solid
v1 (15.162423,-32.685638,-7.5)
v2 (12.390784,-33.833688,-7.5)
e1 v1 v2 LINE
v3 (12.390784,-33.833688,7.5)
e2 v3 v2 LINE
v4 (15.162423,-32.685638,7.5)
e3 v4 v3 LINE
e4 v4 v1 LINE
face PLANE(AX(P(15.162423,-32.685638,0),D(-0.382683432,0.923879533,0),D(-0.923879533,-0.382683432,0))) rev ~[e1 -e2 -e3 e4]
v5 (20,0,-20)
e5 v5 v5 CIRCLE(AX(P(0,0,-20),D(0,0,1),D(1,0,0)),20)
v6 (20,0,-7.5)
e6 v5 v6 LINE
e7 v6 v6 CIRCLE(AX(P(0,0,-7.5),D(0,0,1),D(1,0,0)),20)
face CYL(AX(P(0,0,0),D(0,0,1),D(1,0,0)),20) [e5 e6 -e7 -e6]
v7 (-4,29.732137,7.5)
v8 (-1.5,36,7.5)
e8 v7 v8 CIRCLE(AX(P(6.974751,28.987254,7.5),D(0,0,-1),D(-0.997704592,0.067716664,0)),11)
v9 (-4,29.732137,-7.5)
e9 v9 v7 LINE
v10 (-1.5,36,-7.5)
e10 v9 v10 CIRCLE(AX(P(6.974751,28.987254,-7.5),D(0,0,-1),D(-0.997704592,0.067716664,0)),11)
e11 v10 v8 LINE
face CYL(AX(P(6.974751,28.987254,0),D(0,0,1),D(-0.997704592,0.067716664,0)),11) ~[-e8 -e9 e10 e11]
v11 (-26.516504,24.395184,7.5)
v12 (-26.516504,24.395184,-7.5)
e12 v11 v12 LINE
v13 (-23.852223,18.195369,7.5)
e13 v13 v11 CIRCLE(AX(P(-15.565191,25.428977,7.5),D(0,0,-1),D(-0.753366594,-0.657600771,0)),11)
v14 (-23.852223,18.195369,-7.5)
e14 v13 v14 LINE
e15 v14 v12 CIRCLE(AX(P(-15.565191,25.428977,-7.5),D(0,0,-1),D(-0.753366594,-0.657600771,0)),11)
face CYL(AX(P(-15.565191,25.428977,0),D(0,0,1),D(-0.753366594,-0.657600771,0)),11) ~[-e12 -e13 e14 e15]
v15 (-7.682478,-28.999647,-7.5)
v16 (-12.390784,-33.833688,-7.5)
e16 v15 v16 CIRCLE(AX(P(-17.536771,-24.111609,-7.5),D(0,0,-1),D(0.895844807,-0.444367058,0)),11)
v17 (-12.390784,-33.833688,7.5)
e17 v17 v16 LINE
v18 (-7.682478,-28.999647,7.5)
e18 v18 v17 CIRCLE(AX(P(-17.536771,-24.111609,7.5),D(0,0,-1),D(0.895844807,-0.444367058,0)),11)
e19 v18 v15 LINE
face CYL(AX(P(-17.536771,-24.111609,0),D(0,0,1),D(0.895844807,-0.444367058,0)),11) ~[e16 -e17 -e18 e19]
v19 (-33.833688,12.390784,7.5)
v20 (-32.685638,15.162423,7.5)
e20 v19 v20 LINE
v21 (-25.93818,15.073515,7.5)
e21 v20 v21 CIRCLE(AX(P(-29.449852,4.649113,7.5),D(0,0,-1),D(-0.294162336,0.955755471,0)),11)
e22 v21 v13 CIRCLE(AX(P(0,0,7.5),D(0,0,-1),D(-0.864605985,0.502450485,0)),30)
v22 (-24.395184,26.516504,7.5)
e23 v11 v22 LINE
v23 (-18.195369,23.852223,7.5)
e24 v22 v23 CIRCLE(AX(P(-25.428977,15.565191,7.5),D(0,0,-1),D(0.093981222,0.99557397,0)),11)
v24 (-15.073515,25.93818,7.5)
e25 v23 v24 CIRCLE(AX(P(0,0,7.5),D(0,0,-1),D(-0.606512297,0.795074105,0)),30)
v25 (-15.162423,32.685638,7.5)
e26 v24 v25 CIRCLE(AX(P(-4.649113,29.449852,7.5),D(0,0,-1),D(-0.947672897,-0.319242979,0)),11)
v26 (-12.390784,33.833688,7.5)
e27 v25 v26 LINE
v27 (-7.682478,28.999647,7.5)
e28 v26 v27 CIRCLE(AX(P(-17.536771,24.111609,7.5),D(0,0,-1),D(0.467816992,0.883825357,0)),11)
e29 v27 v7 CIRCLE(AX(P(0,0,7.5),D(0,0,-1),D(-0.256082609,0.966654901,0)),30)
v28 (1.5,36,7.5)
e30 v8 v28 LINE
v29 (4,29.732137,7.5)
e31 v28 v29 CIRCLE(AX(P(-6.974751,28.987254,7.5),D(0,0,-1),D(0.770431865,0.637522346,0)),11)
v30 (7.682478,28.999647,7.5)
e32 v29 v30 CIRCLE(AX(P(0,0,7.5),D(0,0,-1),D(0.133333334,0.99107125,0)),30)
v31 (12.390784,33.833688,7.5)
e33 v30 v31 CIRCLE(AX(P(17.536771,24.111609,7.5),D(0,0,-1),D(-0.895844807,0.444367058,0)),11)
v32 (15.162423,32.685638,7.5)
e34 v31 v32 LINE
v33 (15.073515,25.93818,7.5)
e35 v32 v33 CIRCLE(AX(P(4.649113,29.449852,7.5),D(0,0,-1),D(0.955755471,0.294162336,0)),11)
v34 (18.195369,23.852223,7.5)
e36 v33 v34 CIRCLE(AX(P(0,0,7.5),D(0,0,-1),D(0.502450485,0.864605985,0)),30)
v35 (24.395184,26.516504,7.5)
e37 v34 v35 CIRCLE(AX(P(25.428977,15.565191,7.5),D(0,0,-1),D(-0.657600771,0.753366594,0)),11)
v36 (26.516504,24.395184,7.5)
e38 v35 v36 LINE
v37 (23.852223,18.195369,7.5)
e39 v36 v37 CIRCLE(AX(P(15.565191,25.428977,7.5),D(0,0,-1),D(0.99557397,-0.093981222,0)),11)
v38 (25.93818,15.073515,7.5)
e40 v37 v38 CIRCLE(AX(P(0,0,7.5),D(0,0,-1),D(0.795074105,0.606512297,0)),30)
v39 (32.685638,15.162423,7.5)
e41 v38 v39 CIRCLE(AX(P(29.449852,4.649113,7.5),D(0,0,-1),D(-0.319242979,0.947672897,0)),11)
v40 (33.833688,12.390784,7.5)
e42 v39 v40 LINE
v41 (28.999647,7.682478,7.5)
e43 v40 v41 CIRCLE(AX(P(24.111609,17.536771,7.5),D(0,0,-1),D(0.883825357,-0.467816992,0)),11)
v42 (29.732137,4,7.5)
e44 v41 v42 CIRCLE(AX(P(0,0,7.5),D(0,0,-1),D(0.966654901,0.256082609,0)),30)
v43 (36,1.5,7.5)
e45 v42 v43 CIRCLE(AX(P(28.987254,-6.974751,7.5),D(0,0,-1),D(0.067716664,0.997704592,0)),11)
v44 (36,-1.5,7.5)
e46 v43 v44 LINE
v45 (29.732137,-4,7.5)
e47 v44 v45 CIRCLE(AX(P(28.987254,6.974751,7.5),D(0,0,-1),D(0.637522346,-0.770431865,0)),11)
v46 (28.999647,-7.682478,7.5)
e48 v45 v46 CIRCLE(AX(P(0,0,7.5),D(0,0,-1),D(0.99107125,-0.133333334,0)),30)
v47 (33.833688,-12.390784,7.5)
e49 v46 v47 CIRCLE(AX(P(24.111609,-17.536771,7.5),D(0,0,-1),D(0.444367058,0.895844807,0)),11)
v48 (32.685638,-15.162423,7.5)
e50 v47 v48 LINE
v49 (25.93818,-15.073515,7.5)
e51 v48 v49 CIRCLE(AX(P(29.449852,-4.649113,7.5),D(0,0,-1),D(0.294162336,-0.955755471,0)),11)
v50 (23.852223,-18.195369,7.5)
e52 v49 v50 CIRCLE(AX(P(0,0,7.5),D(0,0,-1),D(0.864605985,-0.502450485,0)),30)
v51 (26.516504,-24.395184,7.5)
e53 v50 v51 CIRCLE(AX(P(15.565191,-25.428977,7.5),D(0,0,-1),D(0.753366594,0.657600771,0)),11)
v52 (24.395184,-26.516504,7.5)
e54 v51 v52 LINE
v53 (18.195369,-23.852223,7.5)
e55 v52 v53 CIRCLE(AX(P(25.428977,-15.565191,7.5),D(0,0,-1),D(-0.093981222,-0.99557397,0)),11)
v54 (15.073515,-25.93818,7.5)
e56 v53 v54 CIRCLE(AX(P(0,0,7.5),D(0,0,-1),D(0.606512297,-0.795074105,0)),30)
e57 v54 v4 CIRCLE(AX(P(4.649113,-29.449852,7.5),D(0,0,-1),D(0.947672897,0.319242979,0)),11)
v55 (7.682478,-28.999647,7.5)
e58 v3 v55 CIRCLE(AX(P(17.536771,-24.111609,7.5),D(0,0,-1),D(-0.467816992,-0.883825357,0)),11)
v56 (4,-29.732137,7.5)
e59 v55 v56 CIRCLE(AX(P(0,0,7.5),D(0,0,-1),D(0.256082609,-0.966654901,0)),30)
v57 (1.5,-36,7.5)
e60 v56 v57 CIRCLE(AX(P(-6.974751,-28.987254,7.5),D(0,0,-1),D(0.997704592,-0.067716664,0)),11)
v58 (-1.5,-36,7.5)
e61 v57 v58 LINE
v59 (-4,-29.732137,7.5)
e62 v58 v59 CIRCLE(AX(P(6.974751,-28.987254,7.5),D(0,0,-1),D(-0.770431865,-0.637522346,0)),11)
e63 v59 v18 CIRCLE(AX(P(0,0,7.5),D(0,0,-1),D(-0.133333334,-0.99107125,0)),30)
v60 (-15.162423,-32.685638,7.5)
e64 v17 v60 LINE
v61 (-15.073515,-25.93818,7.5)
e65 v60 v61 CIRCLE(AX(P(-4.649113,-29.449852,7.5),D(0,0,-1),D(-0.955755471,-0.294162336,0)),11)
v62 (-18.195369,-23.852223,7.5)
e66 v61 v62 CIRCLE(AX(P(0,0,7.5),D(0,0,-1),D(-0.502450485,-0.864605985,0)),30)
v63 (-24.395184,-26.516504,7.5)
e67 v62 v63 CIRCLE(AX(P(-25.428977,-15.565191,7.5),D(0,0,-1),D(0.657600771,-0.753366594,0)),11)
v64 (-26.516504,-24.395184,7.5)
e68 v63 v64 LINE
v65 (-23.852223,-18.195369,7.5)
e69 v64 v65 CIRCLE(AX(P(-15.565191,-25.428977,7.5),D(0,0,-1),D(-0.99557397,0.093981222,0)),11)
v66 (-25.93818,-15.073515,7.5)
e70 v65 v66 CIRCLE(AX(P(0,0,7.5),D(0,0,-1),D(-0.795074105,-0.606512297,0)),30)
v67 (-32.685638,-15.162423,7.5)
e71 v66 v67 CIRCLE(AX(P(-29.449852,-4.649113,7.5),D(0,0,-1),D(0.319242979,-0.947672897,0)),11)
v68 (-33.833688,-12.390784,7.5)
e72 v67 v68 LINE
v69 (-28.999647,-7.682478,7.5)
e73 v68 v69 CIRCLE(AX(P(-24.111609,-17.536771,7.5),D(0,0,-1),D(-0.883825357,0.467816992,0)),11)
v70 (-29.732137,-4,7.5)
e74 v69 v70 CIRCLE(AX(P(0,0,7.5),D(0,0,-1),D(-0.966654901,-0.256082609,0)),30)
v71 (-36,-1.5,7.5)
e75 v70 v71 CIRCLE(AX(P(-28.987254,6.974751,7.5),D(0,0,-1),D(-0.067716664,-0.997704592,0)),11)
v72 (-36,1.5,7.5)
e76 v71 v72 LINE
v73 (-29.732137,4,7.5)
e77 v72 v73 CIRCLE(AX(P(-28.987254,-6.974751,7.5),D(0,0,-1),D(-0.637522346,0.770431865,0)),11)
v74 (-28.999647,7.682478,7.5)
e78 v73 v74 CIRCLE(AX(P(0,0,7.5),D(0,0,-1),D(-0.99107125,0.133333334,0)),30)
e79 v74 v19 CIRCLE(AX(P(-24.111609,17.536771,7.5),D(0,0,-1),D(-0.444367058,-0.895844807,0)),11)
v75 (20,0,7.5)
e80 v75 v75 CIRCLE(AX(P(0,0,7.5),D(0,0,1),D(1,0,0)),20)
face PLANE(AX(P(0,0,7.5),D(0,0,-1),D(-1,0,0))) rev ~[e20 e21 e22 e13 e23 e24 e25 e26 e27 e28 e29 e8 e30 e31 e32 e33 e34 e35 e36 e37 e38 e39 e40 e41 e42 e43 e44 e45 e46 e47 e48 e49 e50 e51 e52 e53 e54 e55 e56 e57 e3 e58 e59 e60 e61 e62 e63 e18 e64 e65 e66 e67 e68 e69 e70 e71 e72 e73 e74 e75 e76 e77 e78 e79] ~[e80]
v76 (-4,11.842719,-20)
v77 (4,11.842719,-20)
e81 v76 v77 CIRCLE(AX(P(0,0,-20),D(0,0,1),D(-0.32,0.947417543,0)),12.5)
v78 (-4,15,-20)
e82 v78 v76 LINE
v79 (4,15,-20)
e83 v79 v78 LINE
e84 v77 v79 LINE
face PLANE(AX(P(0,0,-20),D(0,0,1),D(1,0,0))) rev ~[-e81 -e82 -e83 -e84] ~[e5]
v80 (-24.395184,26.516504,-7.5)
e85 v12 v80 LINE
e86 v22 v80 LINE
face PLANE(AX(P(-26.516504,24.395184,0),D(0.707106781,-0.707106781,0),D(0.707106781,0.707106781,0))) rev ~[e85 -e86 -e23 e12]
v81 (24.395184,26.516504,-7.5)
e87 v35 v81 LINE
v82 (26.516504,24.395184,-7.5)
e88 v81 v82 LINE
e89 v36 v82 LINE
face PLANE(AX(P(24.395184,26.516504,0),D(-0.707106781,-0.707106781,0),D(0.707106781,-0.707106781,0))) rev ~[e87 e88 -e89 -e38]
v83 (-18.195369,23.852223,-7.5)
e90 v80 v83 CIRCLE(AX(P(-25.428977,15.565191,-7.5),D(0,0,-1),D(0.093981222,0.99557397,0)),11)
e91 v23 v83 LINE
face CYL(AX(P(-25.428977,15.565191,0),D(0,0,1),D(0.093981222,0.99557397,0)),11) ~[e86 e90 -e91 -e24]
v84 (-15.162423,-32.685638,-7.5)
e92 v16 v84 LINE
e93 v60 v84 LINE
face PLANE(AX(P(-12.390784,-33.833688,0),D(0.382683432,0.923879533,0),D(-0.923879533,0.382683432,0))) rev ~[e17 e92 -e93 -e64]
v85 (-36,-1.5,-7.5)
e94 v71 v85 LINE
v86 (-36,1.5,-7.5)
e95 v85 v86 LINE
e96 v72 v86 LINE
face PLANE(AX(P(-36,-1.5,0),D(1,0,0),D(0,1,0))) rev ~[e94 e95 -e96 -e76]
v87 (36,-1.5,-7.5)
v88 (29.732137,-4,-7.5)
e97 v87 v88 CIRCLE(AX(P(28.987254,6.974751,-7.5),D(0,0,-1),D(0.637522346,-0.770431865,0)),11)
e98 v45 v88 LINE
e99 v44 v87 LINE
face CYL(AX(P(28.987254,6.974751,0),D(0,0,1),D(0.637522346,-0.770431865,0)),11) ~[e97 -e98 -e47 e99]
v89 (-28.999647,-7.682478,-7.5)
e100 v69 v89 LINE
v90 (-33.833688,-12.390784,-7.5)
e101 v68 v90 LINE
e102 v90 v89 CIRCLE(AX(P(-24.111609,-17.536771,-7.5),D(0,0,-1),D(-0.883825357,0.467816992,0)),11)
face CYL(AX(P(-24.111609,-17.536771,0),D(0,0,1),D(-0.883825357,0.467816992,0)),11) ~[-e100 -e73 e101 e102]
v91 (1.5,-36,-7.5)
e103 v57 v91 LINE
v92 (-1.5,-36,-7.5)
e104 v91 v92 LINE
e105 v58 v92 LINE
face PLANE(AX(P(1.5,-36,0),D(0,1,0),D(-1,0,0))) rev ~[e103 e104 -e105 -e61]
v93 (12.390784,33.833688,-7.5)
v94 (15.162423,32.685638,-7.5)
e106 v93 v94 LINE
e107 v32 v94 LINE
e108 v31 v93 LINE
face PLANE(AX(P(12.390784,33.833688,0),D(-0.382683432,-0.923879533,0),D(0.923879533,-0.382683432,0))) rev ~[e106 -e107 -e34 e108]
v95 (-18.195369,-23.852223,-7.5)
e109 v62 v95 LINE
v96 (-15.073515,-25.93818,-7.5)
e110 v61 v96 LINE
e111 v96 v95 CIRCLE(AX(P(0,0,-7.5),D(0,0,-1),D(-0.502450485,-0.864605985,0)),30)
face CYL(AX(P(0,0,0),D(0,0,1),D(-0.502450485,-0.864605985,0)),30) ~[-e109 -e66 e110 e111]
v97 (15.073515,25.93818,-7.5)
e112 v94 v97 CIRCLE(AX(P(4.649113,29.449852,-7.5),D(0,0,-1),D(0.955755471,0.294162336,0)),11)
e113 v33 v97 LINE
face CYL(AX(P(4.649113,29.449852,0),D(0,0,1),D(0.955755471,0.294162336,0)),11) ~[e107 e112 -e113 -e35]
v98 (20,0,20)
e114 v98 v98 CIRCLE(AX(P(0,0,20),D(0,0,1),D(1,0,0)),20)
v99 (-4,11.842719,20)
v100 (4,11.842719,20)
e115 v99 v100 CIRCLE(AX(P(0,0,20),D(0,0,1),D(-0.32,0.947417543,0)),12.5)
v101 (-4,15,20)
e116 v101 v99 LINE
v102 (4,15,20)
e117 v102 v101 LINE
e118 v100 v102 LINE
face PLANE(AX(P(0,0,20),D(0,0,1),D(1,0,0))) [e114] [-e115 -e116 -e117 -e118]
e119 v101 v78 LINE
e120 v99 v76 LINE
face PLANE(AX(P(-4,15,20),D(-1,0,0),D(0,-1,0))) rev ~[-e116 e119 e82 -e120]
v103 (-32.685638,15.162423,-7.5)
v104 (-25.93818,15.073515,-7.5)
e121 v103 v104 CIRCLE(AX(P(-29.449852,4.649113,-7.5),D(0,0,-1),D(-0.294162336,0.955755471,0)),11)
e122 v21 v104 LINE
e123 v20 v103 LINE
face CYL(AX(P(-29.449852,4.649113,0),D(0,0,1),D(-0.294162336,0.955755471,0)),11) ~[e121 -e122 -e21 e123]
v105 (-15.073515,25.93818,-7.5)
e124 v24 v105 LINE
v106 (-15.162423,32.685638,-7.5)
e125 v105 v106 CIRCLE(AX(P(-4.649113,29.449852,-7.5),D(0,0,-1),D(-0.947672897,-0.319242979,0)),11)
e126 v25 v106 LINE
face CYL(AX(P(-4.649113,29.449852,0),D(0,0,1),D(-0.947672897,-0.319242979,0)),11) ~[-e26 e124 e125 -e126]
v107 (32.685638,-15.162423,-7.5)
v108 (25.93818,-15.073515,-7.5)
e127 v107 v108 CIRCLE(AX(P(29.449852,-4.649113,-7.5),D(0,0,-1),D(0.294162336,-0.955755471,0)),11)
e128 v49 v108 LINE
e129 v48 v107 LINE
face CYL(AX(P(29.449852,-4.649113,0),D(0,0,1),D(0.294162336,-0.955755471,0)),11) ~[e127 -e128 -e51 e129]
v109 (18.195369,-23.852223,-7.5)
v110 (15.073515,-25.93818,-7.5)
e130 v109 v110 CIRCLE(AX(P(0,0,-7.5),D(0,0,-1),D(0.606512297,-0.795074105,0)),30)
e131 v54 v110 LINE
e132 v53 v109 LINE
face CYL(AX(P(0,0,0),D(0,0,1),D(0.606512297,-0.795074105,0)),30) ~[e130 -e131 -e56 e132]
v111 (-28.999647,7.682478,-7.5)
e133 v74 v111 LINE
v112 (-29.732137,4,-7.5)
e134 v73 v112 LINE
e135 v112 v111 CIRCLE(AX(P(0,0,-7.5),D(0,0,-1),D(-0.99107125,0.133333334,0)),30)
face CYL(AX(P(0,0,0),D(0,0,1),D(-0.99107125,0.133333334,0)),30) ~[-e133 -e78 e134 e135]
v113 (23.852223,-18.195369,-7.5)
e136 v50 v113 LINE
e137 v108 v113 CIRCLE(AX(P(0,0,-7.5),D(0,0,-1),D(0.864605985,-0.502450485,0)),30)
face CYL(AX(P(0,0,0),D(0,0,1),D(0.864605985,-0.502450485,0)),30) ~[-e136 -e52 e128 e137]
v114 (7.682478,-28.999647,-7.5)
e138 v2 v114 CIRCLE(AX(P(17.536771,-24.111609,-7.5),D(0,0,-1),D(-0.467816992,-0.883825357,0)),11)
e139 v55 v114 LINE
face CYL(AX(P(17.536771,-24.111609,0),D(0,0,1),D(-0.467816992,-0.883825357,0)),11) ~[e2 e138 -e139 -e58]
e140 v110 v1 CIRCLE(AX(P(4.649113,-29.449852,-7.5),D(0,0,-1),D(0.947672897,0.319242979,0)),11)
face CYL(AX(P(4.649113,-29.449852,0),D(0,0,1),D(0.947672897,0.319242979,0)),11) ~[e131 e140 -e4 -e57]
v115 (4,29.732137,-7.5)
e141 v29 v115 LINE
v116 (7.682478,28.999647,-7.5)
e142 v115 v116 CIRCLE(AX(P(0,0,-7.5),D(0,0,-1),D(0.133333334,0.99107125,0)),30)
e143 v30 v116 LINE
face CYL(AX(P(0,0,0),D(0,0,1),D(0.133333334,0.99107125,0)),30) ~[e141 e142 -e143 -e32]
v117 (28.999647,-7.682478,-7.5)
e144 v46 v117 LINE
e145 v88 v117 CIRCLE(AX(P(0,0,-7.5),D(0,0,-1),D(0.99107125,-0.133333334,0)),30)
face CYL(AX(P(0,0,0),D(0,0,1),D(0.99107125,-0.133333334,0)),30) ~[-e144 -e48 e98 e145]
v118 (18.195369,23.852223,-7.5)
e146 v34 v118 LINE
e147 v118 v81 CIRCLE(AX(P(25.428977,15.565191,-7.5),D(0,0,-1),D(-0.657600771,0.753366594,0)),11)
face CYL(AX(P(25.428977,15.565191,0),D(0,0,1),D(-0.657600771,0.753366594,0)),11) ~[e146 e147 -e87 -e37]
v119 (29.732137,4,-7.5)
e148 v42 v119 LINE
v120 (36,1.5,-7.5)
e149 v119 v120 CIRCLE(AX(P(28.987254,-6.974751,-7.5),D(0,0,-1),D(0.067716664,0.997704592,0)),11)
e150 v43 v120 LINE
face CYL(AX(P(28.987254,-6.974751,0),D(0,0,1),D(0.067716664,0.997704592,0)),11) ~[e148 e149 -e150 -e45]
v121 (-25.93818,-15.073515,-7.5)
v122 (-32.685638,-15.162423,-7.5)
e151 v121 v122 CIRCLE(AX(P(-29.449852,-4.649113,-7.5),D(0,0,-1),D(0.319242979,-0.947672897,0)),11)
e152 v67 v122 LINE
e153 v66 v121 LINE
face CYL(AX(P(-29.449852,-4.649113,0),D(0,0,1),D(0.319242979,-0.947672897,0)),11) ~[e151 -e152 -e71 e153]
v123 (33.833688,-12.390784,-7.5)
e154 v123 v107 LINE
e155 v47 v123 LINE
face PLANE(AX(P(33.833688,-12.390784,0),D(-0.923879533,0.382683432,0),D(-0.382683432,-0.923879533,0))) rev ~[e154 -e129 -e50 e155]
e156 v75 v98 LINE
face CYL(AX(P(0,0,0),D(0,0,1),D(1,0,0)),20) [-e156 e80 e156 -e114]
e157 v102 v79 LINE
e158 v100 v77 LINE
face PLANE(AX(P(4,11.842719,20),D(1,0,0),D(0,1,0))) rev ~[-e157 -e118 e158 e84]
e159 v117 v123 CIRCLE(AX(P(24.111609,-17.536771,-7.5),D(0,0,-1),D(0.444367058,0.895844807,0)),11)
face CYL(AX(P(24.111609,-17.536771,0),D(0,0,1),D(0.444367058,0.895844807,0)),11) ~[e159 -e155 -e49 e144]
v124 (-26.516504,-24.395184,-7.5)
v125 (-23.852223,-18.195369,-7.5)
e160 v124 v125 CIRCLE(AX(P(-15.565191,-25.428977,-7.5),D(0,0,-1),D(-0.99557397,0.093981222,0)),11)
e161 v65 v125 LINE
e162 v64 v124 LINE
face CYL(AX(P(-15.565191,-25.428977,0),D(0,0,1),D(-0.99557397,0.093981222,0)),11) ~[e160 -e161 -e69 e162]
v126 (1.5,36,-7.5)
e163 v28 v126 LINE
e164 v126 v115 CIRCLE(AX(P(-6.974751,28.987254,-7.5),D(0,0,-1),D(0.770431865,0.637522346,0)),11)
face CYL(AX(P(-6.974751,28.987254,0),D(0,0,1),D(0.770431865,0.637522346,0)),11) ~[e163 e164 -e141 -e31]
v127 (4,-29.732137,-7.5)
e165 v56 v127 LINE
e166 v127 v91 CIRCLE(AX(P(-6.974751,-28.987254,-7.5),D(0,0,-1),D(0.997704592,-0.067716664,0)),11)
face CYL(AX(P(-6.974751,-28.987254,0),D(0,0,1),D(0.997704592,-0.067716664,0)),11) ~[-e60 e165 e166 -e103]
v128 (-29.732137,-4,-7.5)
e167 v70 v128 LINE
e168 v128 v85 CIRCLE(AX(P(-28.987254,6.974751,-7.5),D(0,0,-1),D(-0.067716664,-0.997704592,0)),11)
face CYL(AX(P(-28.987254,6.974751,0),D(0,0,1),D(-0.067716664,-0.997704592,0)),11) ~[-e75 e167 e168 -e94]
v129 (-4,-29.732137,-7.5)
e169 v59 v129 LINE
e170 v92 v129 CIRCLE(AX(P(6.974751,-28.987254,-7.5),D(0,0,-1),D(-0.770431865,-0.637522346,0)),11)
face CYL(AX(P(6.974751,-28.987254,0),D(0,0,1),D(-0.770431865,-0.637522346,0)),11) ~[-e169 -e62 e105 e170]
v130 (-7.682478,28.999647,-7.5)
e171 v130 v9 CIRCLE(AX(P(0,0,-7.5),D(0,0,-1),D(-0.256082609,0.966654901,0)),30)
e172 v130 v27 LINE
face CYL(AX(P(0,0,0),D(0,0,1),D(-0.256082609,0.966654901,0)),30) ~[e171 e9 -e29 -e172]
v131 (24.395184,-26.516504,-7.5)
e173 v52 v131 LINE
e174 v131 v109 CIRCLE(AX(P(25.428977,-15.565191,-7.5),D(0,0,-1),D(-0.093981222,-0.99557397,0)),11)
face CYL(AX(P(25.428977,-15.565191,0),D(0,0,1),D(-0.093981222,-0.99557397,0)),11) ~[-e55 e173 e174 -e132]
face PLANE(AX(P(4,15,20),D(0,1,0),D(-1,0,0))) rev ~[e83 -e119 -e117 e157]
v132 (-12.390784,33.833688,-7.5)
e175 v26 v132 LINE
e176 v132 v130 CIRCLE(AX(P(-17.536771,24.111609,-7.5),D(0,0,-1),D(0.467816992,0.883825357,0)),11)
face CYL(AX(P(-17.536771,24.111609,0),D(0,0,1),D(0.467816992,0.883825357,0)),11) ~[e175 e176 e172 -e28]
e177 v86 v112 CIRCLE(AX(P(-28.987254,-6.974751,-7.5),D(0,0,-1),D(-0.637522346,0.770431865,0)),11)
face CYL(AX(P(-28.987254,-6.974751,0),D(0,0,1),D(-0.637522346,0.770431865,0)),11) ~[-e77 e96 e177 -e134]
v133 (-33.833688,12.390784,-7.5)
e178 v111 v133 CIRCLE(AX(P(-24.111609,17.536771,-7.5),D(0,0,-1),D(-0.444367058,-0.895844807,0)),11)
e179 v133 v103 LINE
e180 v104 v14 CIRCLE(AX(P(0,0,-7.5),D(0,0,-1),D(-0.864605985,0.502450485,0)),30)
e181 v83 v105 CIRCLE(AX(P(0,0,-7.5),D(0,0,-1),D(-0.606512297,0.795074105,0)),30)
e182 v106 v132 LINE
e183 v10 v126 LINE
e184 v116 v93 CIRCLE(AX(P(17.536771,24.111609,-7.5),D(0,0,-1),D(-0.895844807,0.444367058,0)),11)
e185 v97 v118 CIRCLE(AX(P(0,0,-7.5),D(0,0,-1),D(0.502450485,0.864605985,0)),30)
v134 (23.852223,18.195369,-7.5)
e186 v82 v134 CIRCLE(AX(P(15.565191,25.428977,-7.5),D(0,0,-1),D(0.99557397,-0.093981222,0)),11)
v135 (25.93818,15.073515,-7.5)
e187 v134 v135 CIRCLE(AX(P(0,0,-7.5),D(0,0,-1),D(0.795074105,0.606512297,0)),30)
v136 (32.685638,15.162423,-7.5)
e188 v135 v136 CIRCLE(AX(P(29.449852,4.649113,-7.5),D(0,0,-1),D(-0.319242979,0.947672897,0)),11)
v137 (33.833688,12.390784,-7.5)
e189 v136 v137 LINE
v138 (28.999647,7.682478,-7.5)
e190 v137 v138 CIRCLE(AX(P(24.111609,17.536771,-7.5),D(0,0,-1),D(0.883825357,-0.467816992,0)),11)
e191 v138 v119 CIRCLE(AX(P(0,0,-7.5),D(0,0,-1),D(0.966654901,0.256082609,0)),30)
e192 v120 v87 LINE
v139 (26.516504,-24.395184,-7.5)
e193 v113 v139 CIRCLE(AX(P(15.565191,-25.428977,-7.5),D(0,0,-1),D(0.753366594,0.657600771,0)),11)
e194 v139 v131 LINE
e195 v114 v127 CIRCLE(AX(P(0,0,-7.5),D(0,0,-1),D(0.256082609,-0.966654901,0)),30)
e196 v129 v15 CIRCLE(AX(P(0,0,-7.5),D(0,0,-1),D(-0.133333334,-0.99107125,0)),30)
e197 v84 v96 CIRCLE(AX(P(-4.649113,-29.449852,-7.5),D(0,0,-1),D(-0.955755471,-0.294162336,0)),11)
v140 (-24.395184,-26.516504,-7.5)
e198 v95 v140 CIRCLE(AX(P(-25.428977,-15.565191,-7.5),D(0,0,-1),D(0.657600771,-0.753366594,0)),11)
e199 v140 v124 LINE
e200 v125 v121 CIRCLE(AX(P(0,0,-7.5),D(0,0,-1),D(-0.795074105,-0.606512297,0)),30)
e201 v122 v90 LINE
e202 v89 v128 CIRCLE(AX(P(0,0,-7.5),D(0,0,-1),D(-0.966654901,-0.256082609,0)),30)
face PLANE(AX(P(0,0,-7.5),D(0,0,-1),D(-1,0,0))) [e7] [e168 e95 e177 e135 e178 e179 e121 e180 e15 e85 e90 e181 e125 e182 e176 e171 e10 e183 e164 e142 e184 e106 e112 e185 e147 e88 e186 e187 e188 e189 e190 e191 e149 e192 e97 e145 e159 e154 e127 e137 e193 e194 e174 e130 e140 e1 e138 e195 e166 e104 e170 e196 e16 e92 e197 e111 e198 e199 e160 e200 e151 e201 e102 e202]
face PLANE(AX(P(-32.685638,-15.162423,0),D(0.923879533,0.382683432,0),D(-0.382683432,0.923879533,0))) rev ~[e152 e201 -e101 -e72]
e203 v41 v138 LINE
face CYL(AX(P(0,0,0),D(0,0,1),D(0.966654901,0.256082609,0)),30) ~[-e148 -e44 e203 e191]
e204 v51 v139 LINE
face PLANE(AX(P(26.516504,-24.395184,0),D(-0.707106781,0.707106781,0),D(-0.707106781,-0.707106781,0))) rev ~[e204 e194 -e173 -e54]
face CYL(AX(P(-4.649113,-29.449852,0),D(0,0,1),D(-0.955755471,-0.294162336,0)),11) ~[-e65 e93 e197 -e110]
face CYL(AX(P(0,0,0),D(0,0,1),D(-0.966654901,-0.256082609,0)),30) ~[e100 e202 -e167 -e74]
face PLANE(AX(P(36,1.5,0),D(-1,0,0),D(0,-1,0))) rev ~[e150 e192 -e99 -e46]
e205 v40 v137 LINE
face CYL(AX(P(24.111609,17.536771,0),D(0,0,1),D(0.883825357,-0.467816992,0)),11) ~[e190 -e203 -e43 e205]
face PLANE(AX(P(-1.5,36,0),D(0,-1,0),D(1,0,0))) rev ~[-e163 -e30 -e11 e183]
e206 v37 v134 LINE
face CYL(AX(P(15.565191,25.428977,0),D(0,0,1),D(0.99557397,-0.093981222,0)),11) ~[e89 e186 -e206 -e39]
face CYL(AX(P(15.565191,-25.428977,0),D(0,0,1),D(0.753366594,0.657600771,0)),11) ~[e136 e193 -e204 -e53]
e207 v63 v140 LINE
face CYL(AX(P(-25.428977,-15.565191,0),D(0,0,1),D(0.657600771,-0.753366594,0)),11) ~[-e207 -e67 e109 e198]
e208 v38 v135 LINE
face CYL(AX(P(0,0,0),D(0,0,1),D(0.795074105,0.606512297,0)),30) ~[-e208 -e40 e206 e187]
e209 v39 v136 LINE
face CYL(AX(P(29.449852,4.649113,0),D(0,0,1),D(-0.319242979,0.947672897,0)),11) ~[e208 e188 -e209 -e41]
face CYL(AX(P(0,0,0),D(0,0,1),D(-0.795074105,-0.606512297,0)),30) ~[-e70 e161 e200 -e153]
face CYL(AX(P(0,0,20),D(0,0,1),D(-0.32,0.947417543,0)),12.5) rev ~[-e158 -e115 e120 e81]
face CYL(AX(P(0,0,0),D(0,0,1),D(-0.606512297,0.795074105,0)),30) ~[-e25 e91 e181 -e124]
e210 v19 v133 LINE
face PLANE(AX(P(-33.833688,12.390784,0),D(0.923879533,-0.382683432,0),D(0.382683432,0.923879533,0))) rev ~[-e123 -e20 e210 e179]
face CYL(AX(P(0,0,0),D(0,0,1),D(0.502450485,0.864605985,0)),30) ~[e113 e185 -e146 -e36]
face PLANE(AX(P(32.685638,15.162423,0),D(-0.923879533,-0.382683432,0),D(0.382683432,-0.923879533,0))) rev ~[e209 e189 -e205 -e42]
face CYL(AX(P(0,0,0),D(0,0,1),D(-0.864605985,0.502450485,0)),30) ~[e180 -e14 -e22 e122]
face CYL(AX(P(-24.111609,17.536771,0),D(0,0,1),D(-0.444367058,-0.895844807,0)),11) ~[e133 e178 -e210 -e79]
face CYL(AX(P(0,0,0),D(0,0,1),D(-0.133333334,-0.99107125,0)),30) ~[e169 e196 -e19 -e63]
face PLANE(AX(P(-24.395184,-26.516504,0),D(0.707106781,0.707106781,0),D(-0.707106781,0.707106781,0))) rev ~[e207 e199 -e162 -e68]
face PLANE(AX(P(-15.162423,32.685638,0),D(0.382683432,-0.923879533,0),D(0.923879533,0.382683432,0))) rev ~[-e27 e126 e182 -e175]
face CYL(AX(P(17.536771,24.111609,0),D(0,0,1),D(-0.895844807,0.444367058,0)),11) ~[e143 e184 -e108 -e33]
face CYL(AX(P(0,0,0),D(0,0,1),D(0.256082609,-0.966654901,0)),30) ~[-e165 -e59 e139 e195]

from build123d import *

# Parameters (mm, degrees)
BOSS_EXTRUDE1_DEPTH = 7.5
SKETCH2_R           = 20
BOSS_EXTRUDE2_DEPTH = 20
CUT_EXTRUDE1_DEPTH  = 41


with BuildPart() as part:
    # Sketch1 → Boss-Extrude1 (new body, symmetric)
    with BuildSketch(Plane.XY):
        with BuildLine():
            Line((-1.5, 36), (1.5, 36))
            ThreePointArc((1.5, 36), (3.242504384, 33.062509074), (4, 29.732137495))
            ThreePointArc((4, 29.732137495), (5.85270966, 29.423558412), (7.682478298, 28.999647019))
            ThreePointArc((7.682478298, 28.999647019), (9.656791021, 31.786628134), (12.390784266, 33.833688319))
            Line((12.390784266, 33.833688319), (15.162422864, 32.685638022))
            ThreePointArc((15.162422864, 32.685638022), (15.64815789, 29.30492272), (15.073514558, 25.93817956))
            ThreePointArc((15.073514558, 25.93817956), (16.667106991, 24.944088369), (18.195368917, 23.852223166))
            ThreePointArc((18.195368917, 23.852223166), (21.085927531, 25.671521208), (24.395183951, 26.516504294))
            Line((24.395183951, 26.516504294), (26.516504294, 24.395183951))
            ThreePointArc((26.516504294, 24.395183951), (25.671521208, 21.085927531), (23.852223166, 18.195368917))
            ThreePointArc((23.852223166, 18.195368917), (24.944088369, 16.667106991), (25.93817956, 15.073514558))
            ThreePointArc((25.93817956, 15.073514558), (29.30492272, 15.64815789), (32.685638022, 15.162422864))
            Line((32.685638022, 15.162422864), (33.833688319, 12.390784266))
            ThreePointArc((33.833688319, 12.390784266), (31.786628134, 9.656791021), (28.999647019, 7.682478298))
            ThreePointArc((28.999647019, 7.682478298), (29.423558412, 5.85270966), (29.732137495, 4))
            ThreePointArc((29.732137495, 4), (33.062509074, 3.242504384), (36, 1.5))
            Line((36, 1.5), (36, -1.5))
            ThreePointArc((36, -1.5), (33.062509074, -3.242504384), (29.732137495, -4))
            ThreePointArc((29.732137495, -4), (29.423558412, -5.85270966), (28.999647019, -7.682478298))
            ThreePointArc((28.999647019, -7.682478298), (31.786628134, -9.656791021), (33.833688319, -12.390784266))
            Line((33.833688319, -12.390784266), (32.685638022, -15.162422864))
            ThreePointArc((32.685638022, -15.162422864), (29.30492272, -15.64815789), (25.93817956, -15.073514558))
            ThreePointArc((25.93817956, -15.073514558), (24.944088369, -16.667106991), (23.852223166, -18.195368917))
            ThreePointArc((23.852223166, -18.195368917), (25.671521208, -21.085927531), (26.516504294, -24.395183951))
            Line((26.516504294, -24.395183951), (24.395183951, -26.516504294))
            ThreePointArc((24.395183951, -26.516504294), (21.085927531, -25.671521208), (18.195368917, -23.852223166))
            ThreePointArc((18.195368917, -23.852223166), (16.667106991, -24.944088369), (15.073514558, -25.93817956))
            ThreePointArc((15.073514558, -25.93817956), (15.64815789, -29.30492272), (15.162422864, -32.685638022))
            Line((15.162422864, -32.685638022), (12.390784266, -33.833688319))
            ThreePointArc((12.390784266, -33.833688319), (9.656791021, -31.786628134), (7.682478298, -28.999647019))
            ThreePointArc((7.682478298, -28.999647019), (5.85270966, -29.423558412), (4, -29.732137495))
            ThreePointArc((4, -29.732137495), (3.242504384, -33.062509074), (1.5, -36))
            Line((1.5, -36), (-1.5, -36))
            ThreePointArc((-1.5, -36), (-3.242504384, -33.062509074), (-4, -29.732137495))
            ThreePointArc((-4, -29.732137495), (-5.85270966, -29.423558412), (-7.682478298, -28.999647019))
            ThreePointArc((-7.682478298, -28.999647019), (-9.656791021, -31.786628134), (-12.390784266, -33.833688319))
            Line((-12.390784266, -33.833688319), (-15.162422864, -32.685638022))
            ThreePointArc((-15.162422864, -32.685638022), (-15.64815789, -29.30492272), (-15.073514558, -25.93817956))
            ThreePointArc((-15.073514558, -25.93817956), (-16.667106991, -24.944088369), (-18.195368917, -23.852223166))
            ThreePointArc((-18.195368917, -23.852223166), (-21.085927531, -25.671521208), (-24.395183951, -26.516504294))
            Line((-24.395183951, -26.516504294), (-26.516504294, -24.395183951))
            ThreePointArc((-26.516504294, -24.395183951), (-25.671521208, -21.085927531), (-23.852223166, -18.195368917))
            ThreePointArc((-23.852223166, -18.195368917), (-24.944088369, -16.667106991), (-25.93817956, -15.073514558))
            ThreePointArc((-25.93817956, -15.073514558), (-29.30492272, -15.64815789), (-32.685638022, -15.162422864))
            Line((-32.685638022, -15.162422864), (-33.833688319, -12.390784266))
            ThreePointArc((-33.833688319, -12.390784266), (-31.786628134, -9.656791021), (-28.999647019, -7.682478298))
            ThreePointArc((-28.999647019, -7.682478298), (-29.423558412, -5.85270966), (-29.732137495, -4))
            ThreePointArc((-29.732137495, -4), (-33.062509074, -3.242504384), (-36, -1.5))
            Line((-36, -1.5), (-36, 1.5))
            ThreePointArc((-36, 1.5), (-33.062509074, 3.242504384), (-29.732137495, 4))
            ThreePointArc((-29.732137495, 4), (-29.423558412, 5.85270966), (-28.999647019, 7.682478298))
            ThreePointArc((-28.999647019, 7.682478298), (-31.786628134, 9.656791021), (-33.833688319, 12.390784266))
            Line((-33.833688319, 12.390784266), (-32.685638022, 15.162422864))
            ThreePointArc((-32.685638022, 15.162422864), (-29.30492272, 15.64815789), (-25.93817956, 15.073514558))
            ThreePointArc((-25.93817956, 15.073514558), (-24.944088369, 16.667106991), (-23.852223166, 18.195368917))
            ThreePointArc((-23.852223166, 18.195368917), (-25.671521208, 21.085927531), (-26.516504294, 24.395183951))
            Line((-26.516504294, 24.395183951), (-24.395183951, 26.516504294))
            ThreePointArc((-24.395183951, 26.516504294), (-21.085927531, 25.671521208), (-18.195368917, 23.852223166))
            ThreePointArc((-18.195368917, 23.852223166), (-16.667106991, 24.944088369), (-15.073514558, 25.93817956))
            ThreePointArc((-15.073514558, 25.93817956), (-15.64815789, 29.30492272), (-15.162422864, 32.685638022))
            Line((-15.162422864, 32.685638022), (-12.390784266, 33.833688319))
            ThreePointArc((-12.390784266, 33.833688319), (-9.656791021, 31.786628134), (-7.682478298, 28.999647019))
            ThreePointArc((-7.682478298, 28.999647019), (-5.85270966, 29.423558412), (-4, 29.732137495))
            ThreePointArc((-4, 29.732137495), (-3.242504384, 33.062509074), (-1.5, 36))
        make_face()
    extrude(amount=BOSS_EXTRUDE1_DEPTH, both=True)

    # Sketch2 → Boss-Extrude2 (add, symmetric)
    with BuildSketch(Plane.XY):
        Circle(SKETCH2_R)
    extrude(amount=BOSS_EXTRUDE2_DEPTH, both=True)

    # Sketch3 → Cut-Extrude1 (cut, through all)
    with BuildSketch(Plane.XY.offset(20)):
        with BuildLine():
            Line((-4, 15), (-4, 11.842719282))
            ThreePointArc((-4, 11.842719282), (0, -12.5), (4, 11.842719282))
            Line((4, 11.842719282), (4, 15))
            Line((4, 15), (-4, 15))
        make_face()
    extrude(amount=-CUT_EXTRUDE1_DEPTH, mode=Mode.SUBTRACT)


solid = part.part
